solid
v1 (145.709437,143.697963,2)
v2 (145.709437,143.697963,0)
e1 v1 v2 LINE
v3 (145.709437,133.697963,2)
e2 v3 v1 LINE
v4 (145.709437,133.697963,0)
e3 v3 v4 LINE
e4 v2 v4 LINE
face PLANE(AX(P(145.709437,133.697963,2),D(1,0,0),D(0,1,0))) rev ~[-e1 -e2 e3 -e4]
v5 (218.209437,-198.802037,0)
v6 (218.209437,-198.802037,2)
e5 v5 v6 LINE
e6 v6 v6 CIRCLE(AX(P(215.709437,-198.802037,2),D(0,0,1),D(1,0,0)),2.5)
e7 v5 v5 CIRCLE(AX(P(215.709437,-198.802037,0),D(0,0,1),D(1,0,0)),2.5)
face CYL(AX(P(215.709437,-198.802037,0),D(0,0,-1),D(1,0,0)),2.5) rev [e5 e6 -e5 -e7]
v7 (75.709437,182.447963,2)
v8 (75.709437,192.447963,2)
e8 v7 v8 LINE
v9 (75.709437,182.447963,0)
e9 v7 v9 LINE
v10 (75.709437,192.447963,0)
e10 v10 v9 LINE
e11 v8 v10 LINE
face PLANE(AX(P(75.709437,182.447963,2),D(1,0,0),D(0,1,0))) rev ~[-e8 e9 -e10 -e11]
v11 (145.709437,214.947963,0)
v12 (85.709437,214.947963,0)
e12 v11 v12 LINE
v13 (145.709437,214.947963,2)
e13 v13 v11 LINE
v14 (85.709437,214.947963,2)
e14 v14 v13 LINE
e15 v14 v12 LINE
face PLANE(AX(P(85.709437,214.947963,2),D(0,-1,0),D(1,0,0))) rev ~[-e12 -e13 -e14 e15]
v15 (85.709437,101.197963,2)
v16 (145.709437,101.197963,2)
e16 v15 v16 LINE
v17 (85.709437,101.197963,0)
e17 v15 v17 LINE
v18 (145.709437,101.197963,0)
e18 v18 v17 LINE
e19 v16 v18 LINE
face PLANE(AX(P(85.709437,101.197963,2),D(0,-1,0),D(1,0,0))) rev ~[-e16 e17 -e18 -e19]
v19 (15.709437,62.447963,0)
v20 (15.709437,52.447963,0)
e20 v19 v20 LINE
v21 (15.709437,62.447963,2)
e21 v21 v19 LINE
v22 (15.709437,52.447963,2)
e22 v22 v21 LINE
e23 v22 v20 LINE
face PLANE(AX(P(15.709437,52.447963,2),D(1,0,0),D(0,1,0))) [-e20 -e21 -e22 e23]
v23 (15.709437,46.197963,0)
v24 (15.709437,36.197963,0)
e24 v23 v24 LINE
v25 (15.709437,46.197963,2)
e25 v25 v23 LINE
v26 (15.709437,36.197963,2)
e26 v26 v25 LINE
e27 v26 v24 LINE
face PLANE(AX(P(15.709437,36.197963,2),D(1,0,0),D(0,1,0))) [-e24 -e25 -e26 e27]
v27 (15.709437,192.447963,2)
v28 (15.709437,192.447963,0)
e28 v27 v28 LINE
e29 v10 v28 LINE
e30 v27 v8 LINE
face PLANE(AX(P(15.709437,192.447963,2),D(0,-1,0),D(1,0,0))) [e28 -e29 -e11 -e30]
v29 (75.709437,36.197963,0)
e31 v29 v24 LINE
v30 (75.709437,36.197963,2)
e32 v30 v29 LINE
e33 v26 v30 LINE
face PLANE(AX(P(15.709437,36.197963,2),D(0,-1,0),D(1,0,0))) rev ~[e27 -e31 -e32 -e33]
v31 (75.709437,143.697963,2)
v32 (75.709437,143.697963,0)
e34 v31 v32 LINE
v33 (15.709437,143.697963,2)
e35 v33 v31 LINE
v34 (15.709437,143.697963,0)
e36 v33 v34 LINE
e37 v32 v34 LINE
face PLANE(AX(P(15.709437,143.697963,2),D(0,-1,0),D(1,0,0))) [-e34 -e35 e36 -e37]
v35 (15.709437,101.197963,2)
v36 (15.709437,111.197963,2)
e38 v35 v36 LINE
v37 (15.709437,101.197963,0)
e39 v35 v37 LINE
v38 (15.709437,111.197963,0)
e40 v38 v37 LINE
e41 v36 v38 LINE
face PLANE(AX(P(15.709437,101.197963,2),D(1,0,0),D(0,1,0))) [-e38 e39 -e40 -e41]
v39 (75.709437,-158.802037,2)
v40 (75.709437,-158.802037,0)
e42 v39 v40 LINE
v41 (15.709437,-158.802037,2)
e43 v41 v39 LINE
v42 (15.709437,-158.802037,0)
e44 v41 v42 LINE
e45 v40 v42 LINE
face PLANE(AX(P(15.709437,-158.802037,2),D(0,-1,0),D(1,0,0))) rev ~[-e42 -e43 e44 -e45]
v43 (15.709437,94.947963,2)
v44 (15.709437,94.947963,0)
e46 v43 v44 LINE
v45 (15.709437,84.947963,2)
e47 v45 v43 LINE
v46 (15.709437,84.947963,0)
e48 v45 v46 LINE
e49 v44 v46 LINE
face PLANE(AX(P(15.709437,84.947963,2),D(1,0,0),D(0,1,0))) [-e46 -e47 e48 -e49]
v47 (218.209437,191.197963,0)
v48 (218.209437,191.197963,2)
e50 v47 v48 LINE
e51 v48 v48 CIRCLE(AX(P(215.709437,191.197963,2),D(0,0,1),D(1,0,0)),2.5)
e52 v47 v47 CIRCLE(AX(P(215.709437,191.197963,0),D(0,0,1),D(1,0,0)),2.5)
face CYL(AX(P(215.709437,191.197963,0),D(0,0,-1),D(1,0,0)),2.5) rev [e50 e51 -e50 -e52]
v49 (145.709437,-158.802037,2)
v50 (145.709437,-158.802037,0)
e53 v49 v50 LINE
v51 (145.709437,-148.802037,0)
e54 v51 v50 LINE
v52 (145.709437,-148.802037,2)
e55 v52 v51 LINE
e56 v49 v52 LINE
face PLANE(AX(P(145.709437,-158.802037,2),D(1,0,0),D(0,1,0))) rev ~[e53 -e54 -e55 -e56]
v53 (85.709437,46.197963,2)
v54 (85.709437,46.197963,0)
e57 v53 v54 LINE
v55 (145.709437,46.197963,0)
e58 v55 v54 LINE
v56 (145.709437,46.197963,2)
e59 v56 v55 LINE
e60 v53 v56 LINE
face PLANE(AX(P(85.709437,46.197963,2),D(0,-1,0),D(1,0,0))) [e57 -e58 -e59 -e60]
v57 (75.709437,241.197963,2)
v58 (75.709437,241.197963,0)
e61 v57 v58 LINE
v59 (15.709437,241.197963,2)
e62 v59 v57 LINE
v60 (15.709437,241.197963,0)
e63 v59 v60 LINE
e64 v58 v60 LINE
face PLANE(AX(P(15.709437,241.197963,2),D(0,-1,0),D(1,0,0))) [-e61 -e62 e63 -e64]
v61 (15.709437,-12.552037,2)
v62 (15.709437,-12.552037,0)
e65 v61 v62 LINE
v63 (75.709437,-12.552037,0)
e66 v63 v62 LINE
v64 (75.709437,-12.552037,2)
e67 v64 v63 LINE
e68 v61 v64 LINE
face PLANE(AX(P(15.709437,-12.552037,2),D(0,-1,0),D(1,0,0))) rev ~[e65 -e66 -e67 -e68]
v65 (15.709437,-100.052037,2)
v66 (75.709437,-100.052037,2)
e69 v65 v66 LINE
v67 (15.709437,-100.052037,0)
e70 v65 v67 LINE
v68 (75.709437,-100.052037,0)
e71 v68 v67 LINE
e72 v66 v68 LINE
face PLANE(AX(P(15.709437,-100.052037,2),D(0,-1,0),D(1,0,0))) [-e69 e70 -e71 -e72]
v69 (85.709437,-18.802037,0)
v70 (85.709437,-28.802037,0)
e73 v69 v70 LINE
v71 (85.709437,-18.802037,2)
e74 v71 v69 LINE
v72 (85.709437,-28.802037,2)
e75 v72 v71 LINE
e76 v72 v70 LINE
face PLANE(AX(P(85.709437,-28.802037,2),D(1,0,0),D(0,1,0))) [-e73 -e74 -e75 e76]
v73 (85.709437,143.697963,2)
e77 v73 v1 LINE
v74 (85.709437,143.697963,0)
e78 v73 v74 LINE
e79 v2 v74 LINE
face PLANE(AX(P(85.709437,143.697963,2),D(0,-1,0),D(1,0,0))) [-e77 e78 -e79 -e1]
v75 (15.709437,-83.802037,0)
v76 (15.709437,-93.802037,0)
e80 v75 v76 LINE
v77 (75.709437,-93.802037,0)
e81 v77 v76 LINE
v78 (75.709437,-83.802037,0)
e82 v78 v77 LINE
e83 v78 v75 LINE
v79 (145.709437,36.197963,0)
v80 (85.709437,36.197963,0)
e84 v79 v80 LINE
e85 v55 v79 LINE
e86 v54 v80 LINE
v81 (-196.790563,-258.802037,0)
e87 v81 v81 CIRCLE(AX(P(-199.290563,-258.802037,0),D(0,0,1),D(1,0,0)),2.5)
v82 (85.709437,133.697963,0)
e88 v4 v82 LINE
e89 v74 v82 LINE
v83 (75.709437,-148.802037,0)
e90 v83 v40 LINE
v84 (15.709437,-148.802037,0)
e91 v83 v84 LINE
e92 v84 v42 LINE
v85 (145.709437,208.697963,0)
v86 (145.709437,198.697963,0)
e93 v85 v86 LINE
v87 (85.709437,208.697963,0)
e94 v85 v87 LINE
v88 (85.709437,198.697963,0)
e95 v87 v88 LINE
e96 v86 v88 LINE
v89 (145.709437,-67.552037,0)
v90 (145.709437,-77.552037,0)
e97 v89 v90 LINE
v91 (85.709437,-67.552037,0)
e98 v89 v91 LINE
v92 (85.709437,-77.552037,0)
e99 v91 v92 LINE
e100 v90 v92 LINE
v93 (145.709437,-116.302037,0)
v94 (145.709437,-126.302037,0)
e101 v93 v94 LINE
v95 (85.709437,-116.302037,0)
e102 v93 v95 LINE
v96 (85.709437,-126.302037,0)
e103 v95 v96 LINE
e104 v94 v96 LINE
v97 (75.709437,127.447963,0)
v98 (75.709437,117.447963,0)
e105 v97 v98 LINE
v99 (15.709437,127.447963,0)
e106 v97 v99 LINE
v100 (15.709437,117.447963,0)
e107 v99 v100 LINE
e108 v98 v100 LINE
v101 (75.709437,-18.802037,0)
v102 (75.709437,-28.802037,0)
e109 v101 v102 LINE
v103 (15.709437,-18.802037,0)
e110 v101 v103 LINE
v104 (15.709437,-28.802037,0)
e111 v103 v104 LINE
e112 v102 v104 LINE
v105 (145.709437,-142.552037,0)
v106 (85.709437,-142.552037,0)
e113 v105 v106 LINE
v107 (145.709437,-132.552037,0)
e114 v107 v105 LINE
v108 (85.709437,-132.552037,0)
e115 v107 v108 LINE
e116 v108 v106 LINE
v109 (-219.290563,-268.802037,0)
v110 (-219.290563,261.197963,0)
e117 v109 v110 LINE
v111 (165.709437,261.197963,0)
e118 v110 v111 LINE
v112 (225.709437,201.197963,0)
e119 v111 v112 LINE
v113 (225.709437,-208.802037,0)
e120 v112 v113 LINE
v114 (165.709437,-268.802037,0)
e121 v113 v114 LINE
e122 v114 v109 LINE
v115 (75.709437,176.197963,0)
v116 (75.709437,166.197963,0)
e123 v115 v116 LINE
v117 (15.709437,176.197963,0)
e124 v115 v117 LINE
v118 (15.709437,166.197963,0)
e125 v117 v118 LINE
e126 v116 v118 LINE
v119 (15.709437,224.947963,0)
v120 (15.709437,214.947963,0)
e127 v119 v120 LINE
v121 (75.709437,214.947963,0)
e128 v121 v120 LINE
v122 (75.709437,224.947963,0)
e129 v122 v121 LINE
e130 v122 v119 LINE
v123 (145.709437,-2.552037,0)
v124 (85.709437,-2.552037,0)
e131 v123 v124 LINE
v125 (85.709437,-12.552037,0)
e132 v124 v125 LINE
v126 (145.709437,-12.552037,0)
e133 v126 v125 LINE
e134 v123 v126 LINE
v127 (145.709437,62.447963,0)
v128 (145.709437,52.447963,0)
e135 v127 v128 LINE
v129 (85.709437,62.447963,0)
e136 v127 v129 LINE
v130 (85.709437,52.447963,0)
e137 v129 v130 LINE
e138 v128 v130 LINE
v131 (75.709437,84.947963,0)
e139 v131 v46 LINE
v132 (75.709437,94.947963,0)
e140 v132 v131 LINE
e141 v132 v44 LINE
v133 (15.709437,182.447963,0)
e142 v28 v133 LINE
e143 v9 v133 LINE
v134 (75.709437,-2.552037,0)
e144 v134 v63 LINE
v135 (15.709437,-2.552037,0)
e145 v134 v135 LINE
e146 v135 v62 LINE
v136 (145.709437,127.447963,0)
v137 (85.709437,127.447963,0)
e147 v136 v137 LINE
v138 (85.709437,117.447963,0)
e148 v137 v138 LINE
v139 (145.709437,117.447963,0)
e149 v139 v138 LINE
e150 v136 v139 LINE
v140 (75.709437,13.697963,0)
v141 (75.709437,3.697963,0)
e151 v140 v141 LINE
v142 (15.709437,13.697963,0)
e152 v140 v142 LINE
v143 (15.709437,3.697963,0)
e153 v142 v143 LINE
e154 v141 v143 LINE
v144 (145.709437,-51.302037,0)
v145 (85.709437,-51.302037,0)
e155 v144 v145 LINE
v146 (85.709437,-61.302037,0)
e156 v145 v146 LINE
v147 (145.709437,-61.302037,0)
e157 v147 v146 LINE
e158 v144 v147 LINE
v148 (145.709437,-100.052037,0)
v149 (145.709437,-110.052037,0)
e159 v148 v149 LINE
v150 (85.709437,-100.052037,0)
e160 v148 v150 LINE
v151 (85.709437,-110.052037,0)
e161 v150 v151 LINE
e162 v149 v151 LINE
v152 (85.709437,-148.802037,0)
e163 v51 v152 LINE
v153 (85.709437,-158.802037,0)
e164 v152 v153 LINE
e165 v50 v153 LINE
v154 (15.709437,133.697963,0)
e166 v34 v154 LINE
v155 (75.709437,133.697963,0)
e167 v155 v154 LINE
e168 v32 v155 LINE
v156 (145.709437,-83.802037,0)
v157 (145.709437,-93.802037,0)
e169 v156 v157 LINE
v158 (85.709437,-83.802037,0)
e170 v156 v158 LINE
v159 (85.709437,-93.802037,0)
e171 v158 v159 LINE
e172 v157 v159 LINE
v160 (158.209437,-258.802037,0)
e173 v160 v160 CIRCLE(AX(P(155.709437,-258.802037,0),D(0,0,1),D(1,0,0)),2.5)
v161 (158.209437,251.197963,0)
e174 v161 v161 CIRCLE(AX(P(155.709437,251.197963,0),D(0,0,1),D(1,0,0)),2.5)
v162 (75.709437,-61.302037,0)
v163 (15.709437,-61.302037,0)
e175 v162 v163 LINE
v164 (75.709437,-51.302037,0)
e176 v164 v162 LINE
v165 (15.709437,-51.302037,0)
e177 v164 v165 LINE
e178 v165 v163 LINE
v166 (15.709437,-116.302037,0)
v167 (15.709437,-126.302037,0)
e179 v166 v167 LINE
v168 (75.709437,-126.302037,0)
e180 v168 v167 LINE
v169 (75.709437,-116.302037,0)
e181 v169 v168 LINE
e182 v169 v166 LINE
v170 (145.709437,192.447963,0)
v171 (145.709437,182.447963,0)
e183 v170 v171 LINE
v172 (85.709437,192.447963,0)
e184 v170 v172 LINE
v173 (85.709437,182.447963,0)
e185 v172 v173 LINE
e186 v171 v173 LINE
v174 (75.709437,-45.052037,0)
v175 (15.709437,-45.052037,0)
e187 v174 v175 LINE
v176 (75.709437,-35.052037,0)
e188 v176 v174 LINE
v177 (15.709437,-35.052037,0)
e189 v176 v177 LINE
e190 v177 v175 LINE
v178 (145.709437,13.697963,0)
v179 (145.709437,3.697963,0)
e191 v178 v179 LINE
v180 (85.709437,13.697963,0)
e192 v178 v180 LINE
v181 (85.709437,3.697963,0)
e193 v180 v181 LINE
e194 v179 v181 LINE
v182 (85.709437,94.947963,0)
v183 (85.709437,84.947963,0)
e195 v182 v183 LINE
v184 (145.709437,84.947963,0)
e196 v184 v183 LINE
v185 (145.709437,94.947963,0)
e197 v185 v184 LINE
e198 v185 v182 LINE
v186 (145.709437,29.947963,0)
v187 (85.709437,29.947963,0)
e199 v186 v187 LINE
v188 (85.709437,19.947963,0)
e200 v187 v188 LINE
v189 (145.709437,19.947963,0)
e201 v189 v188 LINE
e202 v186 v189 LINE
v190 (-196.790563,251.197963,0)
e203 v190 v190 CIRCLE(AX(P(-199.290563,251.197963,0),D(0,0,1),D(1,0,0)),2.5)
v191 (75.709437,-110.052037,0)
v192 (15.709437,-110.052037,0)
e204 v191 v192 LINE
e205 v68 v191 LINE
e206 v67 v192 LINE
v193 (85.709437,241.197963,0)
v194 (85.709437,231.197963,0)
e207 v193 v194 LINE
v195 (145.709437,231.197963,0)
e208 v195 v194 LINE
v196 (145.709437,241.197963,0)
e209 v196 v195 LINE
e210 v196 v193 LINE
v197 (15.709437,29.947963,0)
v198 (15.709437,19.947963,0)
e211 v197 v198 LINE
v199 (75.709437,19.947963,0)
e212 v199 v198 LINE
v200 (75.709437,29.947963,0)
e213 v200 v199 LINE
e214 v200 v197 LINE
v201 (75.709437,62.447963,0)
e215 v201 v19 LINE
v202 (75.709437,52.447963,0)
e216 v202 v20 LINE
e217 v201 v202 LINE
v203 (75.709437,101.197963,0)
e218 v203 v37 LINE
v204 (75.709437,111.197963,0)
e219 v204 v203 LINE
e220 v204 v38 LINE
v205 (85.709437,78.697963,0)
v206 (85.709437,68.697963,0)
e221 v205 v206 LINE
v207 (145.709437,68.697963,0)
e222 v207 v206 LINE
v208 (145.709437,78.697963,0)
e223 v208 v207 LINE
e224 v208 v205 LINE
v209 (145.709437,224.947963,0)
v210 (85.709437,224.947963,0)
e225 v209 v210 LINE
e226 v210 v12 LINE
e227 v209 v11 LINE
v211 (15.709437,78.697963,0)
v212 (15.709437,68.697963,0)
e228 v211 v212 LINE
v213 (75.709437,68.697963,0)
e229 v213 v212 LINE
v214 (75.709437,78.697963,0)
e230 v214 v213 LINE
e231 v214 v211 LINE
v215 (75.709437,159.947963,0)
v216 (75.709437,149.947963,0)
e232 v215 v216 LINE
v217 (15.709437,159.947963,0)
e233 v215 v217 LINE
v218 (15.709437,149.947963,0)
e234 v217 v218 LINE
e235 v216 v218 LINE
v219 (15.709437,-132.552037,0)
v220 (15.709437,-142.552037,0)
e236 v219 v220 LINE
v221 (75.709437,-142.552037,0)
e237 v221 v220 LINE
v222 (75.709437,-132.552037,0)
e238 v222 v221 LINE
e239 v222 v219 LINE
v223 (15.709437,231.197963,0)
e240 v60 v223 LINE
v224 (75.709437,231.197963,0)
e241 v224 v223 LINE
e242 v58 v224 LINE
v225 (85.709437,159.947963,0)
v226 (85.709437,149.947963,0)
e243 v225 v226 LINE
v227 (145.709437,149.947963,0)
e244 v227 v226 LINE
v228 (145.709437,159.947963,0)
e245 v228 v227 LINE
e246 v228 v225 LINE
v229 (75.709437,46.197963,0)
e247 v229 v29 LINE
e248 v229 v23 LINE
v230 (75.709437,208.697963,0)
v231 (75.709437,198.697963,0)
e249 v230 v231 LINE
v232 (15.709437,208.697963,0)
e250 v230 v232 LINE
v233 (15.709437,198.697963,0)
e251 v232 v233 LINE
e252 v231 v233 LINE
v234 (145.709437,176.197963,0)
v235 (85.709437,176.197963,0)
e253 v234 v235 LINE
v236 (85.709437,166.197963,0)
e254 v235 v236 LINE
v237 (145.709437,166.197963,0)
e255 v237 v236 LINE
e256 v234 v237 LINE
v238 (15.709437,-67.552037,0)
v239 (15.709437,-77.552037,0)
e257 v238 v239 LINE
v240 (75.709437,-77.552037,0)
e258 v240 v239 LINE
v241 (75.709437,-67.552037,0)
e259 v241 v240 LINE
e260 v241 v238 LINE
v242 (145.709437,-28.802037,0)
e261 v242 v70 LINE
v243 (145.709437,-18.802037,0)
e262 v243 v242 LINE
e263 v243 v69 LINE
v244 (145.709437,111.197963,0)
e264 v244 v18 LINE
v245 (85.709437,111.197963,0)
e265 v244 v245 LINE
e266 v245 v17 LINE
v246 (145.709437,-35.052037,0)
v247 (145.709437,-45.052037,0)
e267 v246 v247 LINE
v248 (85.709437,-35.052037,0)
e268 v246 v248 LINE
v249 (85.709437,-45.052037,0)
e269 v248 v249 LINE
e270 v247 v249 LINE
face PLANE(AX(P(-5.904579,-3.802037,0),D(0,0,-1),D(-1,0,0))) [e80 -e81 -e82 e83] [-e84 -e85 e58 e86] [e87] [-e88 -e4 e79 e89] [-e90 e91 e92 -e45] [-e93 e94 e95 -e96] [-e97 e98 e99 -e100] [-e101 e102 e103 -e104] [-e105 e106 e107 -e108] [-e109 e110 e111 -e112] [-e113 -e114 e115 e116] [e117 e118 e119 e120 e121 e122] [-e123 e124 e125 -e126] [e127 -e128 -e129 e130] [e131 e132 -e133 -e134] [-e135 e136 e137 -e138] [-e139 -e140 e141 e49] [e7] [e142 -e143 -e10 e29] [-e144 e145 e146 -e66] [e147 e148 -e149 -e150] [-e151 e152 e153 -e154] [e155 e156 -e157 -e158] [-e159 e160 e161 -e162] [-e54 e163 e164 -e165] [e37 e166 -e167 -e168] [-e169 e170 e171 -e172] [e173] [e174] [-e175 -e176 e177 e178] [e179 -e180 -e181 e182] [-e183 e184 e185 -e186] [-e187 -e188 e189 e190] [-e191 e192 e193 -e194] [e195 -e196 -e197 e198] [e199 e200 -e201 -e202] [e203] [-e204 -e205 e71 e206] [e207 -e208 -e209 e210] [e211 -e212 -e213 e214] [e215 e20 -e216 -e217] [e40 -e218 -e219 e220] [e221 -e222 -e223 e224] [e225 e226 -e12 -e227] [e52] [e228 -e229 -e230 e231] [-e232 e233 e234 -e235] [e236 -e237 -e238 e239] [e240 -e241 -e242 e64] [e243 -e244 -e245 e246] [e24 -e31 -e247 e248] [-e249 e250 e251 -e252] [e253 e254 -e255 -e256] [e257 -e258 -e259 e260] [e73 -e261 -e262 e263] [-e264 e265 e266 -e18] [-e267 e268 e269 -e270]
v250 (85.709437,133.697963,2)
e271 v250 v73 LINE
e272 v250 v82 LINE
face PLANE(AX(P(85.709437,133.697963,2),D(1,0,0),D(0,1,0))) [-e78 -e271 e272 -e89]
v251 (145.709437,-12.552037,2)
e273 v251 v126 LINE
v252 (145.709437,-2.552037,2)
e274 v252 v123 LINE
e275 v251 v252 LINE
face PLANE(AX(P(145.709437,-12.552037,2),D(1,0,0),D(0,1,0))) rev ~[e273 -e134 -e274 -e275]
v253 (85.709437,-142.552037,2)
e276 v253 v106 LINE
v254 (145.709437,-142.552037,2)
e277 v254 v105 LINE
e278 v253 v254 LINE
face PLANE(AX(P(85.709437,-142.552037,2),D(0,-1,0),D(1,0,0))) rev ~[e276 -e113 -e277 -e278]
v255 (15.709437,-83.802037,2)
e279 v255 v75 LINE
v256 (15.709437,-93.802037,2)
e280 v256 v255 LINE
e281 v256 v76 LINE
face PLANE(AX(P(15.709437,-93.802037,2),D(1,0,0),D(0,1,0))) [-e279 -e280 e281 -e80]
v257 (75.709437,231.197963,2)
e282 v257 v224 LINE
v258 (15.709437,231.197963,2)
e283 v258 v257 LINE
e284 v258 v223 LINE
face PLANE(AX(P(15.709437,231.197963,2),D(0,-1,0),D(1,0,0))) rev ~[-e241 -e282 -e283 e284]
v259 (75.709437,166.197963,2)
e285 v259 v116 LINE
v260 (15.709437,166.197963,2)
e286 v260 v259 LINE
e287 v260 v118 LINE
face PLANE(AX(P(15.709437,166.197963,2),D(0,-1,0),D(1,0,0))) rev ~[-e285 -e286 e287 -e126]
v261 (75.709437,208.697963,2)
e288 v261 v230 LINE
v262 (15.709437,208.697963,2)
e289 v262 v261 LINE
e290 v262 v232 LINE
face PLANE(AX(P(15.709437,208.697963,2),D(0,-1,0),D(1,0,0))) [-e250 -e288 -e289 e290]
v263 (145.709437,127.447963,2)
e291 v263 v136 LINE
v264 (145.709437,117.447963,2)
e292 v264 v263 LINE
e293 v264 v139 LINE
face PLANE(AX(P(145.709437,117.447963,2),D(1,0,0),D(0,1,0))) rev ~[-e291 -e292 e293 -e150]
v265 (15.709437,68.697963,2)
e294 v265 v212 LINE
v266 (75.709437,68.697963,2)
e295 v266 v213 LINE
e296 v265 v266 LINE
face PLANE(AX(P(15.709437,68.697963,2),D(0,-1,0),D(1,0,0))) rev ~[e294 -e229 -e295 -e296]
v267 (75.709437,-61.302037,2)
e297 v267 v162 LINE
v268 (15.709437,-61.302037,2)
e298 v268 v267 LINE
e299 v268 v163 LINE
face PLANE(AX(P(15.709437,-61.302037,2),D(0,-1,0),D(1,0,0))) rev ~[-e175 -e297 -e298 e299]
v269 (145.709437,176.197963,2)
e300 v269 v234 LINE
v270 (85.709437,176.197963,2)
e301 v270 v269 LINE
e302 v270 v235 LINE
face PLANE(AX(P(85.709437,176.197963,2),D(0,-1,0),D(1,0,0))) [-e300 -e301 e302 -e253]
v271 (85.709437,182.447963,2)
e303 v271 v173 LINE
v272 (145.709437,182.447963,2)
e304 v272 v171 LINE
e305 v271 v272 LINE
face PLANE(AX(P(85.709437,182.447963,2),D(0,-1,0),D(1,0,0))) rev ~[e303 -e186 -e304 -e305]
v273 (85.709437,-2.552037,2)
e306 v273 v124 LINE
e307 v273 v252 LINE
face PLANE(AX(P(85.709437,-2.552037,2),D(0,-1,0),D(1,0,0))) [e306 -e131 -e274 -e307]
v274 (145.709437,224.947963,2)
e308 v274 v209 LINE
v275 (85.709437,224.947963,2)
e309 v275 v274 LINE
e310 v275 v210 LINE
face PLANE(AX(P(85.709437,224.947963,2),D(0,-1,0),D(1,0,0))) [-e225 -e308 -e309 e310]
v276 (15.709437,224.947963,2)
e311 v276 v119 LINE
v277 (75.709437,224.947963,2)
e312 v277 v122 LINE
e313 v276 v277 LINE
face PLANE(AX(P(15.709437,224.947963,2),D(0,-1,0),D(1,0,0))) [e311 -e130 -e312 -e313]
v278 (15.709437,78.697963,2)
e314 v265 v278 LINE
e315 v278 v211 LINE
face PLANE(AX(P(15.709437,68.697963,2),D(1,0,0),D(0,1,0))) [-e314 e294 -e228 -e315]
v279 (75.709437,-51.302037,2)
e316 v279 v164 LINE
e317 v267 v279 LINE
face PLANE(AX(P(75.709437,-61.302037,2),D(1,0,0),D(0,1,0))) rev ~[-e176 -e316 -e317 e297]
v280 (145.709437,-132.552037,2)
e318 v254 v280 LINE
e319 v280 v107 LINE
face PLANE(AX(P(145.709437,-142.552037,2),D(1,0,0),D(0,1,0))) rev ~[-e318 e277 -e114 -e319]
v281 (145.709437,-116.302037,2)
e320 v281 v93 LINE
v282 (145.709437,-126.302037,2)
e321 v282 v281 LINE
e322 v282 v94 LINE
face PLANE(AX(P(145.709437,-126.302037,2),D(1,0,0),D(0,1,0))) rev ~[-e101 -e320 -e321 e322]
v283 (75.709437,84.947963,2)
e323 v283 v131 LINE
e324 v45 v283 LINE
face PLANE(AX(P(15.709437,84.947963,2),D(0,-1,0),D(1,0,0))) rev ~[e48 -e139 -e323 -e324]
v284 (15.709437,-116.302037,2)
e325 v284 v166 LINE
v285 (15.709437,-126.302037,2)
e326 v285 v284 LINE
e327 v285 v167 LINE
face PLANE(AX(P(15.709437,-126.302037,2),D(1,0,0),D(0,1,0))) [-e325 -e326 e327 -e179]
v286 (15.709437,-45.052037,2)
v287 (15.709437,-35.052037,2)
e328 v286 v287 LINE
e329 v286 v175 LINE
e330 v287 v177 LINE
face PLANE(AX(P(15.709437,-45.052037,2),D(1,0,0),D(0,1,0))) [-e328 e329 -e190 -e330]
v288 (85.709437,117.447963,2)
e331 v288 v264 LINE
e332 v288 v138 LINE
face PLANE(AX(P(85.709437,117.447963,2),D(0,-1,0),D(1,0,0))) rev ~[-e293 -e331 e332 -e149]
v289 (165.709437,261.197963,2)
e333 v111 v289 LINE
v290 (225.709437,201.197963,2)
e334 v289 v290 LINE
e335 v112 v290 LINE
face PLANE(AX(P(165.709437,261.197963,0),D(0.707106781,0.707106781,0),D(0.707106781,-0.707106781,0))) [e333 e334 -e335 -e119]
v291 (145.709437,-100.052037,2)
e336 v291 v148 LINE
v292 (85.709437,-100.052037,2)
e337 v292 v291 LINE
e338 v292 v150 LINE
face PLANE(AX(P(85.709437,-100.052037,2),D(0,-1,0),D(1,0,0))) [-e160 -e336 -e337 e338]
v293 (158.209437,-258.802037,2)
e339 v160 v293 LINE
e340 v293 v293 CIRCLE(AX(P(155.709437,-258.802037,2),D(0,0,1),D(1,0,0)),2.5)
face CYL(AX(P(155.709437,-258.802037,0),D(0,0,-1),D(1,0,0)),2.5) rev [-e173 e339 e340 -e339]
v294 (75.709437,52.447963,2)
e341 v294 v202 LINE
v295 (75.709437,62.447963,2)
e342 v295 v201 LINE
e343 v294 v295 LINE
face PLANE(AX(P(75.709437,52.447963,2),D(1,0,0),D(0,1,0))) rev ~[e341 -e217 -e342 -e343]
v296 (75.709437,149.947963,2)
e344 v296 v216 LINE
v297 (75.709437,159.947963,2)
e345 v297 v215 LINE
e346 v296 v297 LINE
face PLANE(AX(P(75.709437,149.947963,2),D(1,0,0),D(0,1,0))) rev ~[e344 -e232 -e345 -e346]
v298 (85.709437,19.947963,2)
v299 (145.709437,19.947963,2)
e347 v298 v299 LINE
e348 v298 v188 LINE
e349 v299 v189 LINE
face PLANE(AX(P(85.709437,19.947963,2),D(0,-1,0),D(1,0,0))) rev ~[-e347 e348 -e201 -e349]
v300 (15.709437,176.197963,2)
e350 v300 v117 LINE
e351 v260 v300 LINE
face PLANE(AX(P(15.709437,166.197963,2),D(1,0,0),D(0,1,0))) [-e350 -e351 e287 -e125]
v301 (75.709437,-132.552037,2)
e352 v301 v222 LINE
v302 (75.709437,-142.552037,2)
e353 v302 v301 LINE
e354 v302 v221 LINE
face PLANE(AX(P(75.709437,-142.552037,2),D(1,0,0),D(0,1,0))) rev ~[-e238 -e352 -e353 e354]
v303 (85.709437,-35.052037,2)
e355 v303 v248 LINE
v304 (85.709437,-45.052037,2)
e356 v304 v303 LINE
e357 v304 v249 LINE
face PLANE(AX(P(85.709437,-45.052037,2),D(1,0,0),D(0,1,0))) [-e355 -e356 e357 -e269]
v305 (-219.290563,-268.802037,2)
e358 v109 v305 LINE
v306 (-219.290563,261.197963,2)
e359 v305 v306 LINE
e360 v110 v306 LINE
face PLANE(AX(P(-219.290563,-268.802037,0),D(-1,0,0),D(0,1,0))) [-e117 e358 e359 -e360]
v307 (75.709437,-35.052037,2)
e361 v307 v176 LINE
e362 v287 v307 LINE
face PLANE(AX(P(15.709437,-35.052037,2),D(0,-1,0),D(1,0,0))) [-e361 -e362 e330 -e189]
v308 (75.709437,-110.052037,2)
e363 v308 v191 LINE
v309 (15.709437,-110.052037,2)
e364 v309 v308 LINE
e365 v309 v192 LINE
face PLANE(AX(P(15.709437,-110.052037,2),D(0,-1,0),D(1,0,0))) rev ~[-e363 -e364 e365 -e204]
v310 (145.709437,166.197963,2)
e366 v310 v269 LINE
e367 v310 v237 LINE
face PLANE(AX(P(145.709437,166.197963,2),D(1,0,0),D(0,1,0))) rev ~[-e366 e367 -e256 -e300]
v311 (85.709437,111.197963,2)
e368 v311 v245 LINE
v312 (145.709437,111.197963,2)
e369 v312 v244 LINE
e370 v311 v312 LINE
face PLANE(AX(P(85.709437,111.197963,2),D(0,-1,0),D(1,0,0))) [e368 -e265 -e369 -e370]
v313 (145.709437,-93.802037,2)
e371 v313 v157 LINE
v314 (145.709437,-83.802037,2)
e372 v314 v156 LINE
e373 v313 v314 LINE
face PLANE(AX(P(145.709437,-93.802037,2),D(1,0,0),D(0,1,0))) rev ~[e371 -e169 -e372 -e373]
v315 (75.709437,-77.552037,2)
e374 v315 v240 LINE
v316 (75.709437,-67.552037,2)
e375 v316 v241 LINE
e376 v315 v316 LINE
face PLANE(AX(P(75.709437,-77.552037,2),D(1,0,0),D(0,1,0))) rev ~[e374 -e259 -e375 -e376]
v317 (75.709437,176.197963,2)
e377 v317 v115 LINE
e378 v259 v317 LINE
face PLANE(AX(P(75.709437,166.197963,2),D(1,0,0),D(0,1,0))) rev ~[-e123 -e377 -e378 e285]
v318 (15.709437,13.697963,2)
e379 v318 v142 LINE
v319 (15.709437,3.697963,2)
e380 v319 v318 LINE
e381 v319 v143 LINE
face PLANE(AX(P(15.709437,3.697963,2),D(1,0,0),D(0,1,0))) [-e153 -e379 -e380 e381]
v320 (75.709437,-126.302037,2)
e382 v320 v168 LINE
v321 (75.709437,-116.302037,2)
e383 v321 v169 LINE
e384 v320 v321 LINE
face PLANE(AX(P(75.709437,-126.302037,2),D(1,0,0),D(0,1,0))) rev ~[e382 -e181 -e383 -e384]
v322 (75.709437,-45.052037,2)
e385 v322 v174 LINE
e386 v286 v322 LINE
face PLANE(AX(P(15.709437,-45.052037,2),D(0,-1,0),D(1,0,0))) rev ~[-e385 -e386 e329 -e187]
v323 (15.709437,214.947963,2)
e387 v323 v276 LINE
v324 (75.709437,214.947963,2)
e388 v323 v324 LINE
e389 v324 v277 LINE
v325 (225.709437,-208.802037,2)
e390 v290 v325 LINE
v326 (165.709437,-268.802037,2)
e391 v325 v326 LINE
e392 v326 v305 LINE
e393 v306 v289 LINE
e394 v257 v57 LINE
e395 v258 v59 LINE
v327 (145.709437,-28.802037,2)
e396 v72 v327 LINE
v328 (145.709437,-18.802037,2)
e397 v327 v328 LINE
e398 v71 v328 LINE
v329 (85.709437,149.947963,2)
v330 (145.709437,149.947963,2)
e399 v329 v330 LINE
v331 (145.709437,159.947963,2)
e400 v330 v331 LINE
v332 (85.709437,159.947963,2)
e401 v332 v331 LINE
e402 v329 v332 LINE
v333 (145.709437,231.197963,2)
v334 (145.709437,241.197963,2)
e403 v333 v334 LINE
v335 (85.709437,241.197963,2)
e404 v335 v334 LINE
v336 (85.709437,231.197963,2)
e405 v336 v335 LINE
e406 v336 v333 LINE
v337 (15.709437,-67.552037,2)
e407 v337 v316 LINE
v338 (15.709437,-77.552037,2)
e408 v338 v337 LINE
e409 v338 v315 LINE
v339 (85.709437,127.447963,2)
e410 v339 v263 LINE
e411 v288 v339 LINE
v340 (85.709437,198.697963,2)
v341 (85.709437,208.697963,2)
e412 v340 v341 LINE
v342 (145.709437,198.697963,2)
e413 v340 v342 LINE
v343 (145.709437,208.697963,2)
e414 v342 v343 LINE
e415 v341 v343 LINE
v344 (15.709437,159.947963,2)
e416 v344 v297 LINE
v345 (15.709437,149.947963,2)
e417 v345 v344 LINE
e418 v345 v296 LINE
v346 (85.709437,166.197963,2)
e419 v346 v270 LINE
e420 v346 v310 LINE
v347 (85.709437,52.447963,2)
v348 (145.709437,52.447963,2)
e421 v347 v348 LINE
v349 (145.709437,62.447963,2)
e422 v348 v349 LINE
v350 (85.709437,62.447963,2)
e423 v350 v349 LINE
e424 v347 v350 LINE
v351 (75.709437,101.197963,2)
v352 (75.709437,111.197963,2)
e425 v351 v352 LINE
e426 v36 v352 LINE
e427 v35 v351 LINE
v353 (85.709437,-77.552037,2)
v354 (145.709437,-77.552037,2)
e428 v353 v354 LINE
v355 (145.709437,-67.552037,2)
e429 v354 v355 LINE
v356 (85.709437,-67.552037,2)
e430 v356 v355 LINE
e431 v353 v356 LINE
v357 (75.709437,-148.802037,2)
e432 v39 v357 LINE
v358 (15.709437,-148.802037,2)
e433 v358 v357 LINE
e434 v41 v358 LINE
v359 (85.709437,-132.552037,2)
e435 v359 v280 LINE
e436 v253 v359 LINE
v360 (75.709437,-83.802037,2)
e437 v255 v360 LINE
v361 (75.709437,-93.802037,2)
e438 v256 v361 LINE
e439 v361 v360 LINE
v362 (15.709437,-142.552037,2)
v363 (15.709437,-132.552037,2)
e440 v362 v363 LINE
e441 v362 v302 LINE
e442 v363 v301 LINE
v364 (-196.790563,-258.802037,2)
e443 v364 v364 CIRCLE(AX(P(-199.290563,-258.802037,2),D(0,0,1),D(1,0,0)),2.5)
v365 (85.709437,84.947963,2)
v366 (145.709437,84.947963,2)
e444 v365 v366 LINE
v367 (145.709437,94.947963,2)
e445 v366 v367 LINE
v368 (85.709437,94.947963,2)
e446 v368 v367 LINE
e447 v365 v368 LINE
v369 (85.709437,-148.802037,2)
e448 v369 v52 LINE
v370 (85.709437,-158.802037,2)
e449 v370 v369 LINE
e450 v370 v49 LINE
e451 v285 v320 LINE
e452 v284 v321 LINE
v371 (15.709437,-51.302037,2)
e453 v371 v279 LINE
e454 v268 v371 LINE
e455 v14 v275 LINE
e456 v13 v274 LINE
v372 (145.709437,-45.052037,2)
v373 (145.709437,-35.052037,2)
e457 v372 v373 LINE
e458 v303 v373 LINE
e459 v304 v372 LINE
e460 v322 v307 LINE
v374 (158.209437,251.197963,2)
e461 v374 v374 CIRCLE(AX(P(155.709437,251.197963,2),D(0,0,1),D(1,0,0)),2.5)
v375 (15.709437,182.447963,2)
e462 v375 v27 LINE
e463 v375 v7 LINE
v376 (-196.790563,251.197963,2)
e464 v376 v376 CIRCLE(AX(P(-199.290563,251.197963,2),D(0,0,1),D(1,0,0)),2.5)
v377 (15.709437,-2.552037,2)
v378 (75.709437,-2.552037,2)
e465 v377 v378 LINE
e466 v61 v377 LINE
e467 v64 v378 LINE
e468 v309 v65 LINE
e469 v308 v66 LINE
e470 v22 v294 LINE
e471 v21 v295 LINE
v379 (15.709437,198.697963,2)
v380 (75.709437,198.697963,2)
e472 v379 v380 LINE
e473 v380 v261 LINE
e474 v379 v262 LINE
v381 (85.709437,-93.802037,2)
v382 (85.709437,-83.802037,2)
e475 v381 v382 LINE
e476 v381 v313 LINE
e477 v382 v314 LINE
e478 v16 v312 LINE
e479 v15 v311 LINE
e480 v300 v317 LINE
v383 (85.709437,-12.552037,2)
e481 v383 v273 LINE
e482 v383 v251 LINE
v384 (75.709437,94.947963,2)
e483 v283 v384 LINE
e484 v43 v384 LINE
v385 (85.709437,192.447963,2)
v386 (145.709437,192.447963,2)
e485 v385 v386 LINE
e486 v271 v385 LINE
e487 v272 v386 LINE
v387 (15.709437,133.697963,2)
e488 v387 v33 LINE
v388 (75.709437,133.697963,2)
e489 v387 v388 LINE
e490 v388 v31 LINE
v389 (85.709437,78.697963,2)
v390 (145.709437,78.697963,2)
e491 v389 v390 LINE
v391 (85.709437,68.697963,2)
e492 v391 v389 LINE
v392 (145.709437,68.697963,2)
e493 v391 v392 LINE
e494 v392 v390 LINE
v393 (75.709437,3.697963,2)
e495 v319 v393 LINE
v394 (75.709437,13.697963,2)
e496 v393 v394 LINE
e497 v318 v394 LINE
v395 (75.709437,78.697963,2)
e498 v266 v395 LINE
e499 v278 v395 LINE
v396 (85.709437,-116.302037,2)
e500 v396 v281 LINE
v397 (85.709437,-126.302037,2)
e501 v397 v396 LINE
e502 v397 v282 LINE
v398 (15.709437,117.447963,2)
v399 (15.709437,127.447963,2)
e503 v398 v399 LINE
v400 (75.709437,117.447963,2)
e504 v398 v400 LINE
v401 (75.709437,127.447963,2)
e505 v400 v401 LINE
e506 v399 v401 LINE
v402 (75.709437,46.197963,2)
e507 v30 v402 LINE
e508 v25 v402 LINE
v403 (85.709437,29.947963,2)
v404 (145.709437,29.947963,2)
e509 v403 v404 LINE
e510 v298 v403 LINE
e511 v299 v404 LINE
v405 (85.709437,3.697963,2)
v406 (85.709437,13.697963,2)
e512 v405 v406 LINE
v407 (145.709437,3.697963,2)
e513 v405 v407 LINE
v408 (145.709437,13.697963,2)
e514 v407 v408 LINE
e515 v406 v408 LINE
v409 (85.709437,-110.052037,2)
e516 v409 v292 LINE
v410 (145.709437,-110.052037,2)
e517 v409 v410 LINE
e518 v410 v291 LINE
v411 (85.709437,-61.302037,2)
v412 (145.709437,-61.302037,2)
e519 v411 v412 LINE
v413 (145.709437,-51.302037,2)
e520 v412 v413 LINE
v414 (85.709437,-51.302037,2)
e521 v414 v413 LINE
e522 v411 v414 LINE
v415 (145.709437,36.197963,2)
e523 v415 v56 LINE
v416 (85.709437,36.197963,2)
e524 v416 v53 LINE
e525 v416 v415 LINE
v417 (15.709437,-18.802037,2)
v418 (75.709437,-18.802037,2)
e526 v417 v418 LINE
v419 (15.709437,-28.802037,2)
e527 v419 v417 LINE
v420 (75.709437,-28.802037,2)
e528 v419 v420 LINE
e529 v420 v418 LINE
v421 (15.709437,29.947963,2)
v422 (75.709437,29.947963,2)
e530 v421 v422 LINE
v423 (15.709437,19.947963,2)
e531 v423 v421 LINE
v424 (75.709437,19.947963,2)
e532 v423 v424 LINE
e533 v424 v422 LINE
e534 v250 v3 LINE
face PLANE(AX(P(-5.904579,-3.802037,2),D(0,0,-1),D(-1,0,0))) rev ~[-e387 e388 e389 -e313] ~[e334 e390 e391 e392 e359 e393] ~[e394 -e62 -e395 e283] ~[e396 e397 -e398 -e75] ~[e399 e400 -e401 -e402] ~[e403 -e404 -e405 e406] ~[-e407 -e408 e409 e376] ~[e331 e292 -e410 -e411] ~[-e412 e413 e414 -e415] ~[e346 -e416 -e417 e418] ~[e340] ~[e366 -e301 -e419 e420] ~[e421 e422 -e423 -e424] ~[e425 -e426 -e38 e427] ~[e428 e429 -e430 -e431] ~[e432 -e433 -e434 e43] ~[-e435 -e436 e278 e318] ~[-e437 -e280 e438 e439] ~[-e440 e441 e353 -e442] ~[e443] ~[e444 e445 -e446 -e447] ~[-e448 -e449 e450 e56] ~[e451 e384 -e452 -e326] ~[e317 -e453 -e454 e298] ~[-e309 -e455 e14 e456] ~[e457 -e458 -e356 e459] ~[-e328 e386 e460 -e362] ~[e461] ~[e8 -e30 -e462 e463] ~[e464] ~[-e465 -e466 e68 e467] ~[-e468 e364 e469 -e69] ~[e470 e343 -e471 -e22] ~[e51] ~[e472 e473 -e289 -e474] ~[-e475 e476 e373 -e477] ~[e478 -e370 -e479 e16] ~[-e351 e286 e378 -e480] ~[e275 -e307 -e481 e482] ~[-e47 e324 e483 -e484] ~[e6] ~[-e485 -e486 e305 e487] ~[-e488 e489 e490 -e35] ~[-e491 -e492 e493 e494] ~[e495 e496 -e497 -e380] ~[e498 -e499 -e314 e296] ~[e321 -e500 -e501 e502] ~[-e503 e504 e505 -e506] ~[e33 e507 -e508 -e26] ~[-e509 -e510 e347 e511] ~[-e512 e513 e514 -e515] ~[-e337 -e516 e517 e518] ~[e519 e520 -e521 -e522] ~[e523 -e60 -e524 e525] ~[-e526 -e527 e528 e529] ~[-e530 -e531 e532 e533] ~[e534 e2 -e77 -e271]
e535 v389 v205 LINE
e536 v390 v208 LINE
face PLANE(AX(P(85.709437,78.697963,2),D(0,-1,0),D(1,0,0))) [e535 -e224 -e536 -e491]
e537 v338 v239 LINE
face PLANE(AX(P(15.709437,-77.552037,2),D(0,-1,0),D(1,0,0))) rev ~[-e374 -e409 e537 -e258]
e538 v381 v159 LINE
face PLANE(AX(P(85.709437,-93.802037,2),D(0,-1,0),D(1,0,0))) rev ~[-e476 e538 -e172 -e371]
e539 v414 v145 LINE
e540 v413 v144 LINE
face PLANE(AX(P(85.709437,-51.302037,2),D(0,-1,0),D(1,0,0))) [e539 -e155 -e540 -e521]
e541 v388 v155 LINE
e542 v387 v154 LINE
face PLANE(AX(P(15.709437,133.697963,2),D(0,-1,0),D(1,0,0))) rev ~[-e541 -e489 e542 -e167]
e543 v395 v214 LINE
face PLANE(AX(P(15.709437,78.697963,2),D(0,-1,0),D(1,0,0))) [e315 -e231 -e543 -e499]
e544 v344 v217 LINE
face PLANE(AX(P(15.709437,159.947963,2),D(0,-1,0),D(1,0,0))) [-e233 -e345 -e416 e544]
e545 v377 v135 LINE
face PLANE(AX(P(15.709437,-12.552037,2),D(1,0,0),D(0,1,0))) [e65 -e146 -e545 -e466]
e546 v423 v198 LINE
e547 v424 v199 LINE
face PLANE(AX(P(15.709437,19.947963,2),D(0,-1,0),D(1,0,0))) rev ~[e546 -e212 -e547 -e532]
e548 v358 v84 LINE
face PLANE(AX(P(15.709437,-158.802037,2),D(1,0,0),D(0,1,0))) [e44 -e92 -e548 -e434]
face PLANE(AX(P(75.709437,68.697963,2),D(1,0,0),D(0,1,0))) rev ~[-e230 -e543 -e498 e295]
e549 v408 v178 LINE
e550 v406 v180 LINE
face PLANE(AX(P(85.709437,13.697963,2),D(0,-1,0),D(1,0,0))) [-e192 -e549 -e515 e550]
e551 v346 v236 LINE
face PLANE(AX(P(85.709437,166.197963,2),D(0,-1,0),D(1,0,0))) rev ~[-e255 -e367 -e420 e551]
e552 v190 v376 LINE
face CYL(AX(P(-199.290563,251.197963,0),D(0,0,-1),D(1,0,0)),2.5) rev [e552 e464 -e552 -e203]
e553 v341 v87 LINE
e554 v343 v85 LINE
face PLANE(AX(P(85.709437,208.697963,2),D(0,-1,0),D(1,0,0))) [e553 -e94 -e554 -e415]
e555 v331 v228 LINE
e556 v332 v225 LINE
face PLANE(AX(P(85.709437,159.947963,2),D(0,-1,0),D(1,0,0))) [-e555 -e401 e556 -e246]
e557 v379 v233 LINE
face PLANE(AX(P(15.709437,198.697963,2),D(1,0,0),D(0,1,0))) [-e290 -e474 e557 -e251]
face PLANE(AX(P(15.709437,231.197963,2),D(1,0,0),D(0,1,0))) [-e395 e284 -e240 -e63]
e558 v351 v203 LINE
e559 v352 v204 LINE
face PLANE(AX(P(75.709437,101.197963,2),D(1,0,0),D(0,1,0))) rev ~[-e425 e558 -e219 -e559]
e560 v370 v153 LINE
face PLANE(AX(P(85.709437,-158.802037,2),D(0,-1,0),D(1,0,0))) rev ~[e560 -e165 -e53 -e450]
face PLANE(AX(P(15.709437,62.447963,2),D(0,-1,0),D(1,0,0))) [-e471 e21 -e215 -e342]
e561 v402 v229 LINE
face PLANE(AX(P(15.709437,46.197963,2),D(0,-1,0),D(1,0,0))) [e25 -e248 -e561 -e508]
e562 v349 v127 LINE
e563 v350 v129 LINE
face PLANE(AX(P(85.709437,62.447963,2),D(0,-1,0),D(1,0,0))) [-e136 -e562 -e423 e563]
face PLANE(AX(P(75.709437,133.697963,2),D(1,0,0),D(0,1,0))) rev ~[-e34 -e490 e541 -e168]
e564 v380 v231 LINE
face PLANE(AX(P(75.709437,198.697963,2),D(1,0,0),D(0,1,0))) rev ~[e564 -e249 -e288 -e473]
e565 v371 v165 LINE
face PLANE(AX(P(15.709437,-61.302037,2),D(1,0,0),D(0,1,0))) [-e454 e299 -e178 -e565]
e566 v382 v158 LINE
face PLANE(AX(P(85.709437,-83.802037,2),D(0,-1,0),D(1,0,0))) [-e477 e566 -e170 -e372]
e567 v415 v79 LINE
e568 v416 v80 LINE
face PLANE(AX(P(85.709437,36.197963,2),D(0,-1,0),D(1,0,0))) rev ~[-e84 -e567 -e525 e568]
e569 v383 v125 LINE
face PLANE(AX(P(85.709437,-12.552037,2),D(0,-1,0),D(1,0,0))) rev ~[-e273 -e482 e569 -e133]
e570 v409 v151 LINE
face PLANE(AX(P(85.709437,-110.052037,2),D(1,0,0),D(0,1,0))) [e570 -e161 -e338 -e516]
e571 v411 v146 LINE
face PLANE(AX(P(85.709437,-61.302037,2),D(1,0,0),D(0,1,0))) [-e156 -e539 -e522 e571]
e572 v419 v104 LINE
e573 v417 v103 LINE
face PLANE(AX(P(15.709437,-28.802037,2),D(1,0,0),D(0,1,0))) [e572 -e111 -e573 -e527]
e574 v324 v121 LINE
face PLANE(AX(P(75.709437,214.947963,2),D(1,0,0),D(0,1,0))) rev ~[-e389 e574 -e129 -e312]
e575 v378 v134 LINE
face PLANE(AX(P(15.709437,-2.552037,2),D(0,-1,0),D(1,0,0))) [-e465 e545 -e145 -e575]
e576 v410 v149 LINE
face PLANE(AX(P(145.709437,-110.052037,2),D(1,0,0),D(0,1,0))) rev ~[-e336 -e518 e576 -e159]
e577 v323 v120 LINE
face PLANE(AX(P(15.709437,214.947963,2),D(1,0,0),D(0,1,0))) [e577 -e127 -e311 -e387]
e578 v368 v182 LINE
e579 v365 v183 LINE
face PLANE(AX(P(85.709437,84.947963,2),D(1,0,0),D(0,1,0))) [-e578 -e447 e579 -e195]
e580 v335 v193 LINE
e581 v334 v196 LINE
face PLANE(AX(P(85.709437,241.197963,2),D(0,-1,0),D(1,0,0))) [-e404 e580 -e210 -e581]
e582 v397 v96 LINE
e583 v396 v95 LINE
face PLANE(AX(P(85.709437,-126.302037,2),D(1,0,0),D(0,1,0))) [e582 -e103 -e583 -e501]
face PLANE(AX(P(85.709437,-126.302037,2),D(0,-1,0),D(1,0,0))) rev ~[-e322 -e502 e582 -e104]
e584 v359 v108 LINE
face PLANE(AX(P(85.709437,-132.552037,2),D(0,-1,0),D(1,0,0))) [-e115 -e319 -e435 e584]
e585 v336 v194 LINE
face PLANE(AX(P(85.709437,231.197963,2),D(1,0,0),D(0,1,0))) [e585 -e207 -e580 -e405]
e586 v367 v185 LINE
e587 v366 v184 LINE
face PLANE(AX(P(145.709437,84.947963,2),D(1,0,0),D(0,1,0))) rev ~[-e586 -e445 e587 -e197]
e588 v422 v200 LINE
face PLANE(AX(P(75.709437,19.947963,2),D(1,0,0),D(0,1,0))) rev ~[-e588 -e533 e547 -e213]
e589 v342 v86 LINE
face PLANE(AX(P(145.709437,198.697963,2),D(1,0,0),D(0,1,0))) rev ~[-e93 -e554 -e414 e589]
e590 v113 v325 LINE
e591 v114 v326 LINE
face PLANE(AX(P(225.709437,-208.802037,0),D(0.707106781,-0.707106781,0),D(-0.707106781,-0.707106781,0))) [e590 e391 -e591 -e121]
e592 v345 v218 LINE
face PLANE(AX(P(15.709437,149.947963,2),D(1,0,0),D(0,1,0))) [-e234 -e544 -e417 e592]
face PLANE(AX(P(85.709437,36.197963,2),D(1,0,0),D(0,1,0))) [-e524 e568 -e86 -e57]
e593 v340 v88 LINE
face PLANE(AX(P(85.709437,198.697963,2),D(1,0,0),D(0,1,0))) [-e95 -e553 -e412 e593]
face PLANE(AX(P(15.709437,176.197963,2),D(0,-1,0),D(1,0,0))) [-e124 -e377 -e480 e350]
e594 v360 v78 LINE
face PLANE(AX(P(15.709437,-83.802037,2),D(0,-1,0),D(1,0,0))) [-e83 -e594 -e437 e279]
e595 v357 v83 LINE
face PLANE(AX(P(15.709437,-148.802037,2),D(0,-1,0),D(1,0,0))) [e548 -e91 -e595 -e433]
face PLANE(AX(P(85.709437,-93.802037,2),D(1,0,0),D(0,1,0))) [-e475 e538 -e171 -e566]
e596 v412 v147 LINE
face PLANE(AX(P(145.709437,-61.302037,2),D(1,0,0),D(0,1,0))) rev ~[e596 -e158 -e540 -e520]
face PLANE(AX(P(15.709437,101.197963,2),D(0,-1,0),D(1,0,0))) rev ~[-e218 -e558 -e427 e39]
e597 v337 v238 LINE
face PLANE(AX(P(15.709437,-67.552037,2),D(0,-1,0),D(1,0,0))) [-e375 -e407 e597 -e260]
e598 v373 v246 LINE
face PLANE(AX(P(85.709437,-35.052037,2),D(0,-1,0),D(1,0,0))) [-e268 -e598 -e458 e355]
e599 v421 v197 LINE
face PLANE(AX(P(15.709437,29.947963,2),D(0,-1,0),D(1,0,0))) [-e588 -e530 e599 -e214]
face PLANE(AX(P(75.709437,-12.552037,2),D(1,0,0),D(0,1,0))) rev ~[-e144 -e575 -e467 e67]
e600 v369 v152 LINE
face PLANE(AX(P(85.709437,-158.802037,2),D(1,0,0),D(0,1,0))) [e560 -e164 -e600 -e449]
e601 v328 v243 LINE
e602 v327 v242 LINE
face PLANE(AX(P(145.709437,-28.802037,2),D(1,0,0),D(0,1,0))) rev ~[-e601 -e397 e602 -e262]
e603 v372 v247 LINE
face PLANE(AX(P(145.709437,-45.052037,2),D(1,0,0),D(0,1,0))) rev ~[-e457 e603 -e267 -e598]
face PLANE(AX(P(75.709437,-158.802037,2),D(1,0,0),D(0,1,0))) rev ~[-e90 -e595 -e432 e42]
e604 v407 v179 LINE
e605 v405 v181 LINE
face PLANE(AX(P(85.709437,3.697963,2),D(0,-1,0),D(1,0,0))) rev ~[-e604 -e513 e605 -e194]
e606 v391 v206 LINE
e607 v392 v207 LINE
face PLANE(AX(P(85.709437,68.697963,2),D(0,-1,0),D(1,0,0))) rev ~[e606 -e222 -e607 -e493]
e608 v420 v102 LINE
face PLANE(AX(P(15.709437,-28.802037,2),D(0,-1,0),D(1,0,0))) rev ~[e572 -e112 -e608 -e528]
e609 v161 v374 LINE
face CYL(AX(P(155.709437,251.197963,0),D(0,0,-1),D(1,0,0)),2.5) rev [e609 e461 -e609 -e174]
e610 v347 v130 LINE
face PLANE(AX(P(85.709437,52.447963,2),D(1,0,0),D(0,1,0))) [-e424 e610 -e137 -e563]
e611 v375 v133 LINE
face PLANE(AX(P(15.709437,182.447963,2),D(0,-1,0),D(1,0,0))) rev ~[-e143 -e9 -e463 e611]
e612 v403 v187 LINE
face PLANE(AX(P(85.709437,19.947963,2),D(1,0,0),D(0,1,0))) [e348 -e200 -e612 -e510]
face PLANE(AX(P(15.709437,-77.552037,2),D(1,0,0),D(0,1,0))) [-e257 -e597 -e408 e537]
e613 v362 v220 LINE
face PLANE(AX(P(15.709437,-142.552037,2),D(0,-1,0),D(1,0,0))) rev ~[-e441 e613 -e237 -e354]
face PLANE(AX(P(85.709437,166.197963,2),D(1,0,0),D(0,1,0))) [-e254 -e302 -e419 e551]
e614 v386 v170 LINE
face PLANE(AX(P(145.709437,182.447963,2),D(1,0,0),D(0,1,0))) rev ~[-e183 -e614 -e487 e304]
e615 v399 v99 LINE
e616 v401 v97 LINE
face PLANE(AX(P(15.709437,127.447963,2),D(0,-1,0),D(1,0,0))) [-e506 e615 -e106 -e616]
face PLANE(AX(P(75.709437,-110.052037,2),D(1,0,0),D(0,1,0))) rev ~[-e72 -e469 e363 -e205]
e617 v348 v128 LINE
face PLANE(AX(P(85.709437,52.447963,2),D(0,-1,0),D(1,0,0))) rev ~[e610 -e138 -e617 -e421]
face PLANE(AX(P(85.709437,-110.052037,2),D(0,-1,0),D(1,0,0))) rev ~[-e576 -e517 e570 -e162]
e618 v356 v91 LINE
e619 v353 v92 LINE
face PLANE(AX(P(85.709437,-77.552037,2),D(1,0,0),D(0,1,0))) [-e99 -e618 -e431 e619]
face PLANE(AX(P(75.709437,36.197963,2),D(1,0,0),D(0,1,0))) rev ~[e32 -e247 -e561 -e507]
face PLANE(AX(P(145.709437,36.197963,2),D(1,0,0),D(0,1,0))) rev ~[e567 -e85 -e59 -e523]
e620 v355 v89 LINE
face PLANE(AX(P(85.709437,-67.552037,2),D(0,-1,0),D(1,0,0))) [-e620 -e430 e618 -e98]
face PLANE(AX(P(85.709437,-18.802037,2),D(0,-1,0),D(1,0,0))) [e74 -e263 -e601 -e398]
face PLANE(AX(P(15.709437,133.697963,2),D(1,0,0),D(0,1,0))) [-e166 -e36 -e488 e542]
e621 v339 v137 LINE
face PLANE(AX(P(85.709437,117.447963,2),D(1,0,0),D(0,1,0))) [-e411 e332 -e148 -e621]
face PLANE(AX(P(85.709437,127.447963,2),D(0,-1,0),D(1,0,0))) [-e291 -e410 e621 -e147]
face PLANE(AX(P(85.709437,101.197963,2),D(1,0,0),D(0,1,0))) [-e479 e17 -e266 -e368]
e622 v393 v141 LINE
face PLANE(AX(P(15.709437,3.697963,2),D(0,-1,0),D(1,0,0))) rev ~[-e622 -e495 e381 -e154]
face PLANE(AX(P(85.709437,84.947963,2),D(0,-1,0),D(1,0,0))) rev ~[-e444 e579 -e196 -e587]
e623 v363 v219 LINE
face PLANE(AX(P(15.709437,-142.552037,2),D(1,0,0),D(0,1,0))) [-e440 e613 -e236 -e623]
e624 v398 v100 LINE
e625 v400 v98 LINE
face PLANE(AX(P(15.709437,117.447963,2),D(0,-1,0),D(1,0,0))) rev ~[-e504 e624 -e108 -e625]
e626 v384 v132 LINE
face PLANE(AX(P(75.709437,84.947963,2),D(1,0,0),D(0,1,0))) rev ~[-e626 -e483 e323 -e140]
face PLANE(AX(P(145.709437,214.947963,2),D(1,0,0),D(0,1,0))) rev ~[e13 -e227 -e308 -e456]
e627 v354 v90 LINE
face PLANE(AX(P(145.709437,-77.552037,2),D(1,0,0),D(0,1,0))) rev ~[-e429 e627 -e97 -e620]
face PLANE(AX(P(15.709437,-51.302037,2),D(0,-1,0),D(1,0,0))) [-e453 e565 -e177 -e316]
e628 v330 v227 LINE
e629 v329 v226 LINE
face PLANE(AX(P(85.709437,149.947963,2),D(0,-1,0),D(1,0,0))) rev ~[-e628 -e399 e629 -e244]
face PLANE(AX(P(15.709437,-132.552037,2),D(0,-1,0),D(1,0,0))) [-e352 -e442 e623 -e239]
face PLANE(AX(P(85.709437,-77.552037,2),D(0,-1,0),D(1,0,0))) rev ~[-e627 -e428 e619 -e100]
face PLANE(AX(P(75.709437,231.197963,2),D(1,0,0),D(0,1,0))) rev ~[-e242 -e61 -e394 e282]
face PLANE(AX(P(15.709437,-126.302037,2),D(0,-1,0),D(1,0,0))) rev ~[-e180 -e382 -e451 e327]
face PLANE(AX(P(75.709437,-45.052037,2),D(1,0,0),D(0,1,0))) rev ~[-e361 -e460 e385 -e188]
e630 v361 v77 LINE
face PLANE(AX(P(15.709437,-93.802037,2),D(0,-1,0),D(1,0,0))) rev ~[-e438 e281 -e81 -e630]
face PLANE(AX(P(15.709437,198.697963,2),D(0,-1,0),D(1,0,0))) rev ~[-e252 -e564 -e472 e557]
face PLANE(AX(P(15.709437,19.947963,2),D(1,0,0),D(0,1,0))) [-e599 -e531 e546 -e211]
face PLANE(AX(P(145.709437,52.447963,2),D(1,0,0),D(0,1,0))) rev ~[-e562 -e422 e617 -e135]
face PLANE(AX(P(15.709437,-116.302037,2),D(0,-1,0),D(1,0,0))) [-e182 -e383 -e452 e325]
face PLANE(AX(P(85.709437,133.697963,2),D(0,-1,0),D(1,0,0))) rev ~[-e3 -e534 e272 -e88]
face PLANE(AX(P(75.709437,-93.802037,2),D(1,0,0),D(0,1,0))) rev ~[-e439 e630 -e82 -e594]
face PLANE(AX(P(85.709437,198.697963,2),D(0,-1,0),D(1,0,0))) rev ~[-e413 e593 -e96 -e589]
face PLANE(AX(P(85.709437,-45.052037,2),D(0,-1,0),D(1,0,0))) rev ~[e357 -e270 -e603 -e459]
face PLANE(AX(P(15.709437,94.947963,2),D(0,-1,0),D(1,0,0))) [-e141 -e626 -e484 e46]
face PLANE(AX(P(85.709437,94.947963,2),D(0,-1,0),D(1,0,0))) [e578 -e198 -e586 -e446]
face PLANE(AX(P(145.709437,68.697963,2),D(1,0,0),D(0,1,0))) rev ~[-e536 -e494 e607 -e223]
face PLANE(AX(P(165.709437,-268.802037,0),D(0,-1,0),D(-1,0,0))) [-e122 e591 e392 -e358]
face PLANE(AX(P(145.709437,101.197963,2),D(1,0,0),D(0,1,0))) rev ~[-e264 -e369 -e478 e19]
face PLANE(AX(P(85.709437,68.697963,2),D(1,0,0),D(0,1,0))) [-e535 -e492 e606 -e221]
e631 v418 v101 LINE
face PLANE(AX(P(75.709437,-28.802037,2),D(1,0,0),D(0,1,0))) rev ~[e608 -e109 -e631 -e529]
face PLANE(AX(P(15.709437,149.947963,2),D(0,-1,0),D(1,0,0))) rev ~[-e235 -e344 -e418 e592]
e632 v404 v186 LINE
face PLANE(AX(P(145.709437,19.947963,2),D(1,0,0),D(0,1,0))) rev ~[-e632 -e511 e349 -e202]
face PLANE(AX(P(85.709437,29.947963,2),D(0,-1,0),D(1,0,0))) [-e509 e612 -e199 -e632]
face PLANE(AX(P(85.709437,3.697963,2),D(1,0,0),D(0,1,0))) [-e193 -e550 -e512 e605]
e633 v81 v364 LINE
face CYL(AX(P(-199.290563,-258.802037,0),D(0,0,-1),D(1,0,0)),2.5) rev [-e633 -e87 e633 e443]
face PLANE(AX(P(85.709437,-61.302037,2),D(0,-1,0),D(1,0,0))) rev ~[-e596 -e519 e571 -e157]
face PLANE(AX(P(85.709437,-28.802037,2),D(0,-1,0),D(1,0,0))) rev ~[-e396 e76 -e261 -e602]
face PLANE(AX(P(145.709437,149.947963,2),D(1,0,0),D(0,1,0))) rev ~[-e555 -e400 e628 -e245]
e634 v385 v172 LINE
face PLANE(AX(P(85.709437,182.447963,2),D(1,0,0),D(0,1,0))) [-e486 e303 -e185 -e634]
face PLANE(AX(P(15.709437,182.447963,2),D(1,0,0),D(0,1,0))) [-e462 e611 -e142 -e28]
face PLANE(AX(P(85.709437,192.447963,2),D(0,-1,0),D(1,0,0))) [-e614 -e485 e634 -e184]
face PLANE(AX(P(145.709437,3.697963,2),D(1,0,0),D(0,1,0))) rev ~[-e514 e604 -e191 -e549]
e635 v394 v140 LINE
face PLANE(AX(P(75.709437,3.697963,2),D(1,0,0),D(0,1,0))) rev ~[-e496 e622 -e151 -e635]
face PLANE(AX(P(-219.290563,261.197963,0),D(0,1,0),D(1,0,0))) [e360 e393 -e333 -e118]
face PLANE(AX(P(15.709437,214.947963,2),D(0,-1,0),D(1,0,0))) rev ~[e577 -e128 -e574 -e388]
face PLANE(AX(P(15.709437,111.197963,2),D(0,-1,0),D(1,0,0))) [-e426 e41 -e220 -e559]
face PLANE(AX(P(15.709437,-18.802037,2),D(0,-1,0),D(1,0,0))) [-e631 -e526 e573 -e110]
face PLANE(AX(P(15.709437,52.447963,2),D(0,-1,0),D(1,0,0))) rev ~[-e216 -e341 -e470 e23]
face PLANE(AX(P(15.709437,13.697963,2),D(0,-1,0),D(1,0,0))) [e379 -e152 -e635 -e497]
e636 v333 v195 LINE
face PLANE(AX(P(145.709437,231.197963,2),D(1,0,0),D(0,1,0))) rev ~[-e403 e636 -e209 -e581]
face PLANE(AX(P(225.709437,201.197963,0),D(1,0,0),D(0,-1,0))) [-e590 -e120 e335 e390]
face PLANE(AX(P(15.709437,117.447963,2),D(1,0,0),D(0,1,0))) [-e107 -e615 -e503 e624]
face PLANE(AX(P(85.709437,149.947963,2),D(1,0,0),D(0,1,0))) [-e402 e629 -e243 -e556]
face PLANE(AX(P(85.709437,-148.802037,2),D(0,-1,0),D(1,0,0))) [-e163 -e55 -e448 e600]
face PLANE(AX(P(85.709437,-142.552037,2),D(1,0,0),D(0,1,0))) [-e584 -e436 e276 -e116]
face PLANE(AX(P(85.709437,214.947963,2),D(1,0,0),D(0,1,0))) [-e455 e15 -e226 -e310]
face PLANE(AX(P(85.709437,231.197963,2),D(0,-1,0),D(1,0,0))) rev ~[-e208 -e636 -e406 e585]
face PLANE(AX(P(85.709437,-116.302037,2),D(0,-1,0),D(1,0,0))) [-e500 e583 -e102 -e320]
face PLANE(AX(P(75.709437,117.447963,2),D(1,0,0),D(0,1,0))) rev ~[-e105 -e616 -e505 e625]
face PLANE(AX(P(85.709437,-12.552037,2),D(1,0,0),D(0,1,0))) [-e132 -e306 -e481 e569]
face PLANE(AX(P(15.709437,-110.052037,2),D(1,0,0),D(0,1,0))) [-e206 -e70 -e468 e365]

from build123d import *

# Parameters (mm, degrees)
SKETCH_R            = 2.5
PAD_DEPTH           = 2
SKETCH001_W         = 60
SKETCH001_H         = 10
POCKET_DEPTH        = 5
LINEARPATTERN_COUNT = 25
LINEARPATTERN_PITCH = 16.25


with BuildPart() as part:
    # Sketch → Pad (new body)
    with BuildSketch(Plane.XY):
        Polygon((-219.290563, 261.197963), (165.709437, 261.197963), (225.709437, 201.197963), (225.709437, -208.802037), (165.709437, -268.802037), (-219.290563, -268.802037), align=None)
        with Locations((155.709437, 251.197963)):
            Circle(SKETCH_R, mode=Mode.SUBTRACT)
        with Locations((215.709437, 191.197963)):
            Circle(SKETCH_R, mode=Mode.SUBTRACT)
        with Locations((215.709437, -198.802037)):
            Circle(SKETCH_R, mode=Mode.SUBTRACT)
        with Locations((155.709437, -258.802037)):
            Circle(SKETCH_R, mode=Mode.SUBTRACT)
        with Locations((-199.290563, 251.197963)):
            Circle(SKETCH_R, mode=Mode.SUBTRACT)
        with Locations((-199.290563, -258.802037)):
            Circle(SKETCH_R, mode=Mode.SUBTRACT)
    extrude(amount=PAD_DEPTH)

    # Sketch001 → Pocket (cut)
    with BuildSketch(Plane.XY.offset(2)):
        with Locations((45.709437, 236.197963)):
            Rectangle(SKETCH001_W, SKETCH001_H)
        with Locations((115.709437, 236.197963)):
            Rectangle(SKETCH001_W, SKETCH001_H)
    pocket = extrude(amount=-POCKET_DEPTH, mode=Mode.SUBTRACT)

    # LinearPattern: Pocket ×25
    with Locations(*[(0, -i * LINEARPATTERN_PITCH, 0) for i in range(1, LINEARPATTERN_COUNT)]):
        add(pocket, mode=Mode.SUBTRACT)


solid = part.part
